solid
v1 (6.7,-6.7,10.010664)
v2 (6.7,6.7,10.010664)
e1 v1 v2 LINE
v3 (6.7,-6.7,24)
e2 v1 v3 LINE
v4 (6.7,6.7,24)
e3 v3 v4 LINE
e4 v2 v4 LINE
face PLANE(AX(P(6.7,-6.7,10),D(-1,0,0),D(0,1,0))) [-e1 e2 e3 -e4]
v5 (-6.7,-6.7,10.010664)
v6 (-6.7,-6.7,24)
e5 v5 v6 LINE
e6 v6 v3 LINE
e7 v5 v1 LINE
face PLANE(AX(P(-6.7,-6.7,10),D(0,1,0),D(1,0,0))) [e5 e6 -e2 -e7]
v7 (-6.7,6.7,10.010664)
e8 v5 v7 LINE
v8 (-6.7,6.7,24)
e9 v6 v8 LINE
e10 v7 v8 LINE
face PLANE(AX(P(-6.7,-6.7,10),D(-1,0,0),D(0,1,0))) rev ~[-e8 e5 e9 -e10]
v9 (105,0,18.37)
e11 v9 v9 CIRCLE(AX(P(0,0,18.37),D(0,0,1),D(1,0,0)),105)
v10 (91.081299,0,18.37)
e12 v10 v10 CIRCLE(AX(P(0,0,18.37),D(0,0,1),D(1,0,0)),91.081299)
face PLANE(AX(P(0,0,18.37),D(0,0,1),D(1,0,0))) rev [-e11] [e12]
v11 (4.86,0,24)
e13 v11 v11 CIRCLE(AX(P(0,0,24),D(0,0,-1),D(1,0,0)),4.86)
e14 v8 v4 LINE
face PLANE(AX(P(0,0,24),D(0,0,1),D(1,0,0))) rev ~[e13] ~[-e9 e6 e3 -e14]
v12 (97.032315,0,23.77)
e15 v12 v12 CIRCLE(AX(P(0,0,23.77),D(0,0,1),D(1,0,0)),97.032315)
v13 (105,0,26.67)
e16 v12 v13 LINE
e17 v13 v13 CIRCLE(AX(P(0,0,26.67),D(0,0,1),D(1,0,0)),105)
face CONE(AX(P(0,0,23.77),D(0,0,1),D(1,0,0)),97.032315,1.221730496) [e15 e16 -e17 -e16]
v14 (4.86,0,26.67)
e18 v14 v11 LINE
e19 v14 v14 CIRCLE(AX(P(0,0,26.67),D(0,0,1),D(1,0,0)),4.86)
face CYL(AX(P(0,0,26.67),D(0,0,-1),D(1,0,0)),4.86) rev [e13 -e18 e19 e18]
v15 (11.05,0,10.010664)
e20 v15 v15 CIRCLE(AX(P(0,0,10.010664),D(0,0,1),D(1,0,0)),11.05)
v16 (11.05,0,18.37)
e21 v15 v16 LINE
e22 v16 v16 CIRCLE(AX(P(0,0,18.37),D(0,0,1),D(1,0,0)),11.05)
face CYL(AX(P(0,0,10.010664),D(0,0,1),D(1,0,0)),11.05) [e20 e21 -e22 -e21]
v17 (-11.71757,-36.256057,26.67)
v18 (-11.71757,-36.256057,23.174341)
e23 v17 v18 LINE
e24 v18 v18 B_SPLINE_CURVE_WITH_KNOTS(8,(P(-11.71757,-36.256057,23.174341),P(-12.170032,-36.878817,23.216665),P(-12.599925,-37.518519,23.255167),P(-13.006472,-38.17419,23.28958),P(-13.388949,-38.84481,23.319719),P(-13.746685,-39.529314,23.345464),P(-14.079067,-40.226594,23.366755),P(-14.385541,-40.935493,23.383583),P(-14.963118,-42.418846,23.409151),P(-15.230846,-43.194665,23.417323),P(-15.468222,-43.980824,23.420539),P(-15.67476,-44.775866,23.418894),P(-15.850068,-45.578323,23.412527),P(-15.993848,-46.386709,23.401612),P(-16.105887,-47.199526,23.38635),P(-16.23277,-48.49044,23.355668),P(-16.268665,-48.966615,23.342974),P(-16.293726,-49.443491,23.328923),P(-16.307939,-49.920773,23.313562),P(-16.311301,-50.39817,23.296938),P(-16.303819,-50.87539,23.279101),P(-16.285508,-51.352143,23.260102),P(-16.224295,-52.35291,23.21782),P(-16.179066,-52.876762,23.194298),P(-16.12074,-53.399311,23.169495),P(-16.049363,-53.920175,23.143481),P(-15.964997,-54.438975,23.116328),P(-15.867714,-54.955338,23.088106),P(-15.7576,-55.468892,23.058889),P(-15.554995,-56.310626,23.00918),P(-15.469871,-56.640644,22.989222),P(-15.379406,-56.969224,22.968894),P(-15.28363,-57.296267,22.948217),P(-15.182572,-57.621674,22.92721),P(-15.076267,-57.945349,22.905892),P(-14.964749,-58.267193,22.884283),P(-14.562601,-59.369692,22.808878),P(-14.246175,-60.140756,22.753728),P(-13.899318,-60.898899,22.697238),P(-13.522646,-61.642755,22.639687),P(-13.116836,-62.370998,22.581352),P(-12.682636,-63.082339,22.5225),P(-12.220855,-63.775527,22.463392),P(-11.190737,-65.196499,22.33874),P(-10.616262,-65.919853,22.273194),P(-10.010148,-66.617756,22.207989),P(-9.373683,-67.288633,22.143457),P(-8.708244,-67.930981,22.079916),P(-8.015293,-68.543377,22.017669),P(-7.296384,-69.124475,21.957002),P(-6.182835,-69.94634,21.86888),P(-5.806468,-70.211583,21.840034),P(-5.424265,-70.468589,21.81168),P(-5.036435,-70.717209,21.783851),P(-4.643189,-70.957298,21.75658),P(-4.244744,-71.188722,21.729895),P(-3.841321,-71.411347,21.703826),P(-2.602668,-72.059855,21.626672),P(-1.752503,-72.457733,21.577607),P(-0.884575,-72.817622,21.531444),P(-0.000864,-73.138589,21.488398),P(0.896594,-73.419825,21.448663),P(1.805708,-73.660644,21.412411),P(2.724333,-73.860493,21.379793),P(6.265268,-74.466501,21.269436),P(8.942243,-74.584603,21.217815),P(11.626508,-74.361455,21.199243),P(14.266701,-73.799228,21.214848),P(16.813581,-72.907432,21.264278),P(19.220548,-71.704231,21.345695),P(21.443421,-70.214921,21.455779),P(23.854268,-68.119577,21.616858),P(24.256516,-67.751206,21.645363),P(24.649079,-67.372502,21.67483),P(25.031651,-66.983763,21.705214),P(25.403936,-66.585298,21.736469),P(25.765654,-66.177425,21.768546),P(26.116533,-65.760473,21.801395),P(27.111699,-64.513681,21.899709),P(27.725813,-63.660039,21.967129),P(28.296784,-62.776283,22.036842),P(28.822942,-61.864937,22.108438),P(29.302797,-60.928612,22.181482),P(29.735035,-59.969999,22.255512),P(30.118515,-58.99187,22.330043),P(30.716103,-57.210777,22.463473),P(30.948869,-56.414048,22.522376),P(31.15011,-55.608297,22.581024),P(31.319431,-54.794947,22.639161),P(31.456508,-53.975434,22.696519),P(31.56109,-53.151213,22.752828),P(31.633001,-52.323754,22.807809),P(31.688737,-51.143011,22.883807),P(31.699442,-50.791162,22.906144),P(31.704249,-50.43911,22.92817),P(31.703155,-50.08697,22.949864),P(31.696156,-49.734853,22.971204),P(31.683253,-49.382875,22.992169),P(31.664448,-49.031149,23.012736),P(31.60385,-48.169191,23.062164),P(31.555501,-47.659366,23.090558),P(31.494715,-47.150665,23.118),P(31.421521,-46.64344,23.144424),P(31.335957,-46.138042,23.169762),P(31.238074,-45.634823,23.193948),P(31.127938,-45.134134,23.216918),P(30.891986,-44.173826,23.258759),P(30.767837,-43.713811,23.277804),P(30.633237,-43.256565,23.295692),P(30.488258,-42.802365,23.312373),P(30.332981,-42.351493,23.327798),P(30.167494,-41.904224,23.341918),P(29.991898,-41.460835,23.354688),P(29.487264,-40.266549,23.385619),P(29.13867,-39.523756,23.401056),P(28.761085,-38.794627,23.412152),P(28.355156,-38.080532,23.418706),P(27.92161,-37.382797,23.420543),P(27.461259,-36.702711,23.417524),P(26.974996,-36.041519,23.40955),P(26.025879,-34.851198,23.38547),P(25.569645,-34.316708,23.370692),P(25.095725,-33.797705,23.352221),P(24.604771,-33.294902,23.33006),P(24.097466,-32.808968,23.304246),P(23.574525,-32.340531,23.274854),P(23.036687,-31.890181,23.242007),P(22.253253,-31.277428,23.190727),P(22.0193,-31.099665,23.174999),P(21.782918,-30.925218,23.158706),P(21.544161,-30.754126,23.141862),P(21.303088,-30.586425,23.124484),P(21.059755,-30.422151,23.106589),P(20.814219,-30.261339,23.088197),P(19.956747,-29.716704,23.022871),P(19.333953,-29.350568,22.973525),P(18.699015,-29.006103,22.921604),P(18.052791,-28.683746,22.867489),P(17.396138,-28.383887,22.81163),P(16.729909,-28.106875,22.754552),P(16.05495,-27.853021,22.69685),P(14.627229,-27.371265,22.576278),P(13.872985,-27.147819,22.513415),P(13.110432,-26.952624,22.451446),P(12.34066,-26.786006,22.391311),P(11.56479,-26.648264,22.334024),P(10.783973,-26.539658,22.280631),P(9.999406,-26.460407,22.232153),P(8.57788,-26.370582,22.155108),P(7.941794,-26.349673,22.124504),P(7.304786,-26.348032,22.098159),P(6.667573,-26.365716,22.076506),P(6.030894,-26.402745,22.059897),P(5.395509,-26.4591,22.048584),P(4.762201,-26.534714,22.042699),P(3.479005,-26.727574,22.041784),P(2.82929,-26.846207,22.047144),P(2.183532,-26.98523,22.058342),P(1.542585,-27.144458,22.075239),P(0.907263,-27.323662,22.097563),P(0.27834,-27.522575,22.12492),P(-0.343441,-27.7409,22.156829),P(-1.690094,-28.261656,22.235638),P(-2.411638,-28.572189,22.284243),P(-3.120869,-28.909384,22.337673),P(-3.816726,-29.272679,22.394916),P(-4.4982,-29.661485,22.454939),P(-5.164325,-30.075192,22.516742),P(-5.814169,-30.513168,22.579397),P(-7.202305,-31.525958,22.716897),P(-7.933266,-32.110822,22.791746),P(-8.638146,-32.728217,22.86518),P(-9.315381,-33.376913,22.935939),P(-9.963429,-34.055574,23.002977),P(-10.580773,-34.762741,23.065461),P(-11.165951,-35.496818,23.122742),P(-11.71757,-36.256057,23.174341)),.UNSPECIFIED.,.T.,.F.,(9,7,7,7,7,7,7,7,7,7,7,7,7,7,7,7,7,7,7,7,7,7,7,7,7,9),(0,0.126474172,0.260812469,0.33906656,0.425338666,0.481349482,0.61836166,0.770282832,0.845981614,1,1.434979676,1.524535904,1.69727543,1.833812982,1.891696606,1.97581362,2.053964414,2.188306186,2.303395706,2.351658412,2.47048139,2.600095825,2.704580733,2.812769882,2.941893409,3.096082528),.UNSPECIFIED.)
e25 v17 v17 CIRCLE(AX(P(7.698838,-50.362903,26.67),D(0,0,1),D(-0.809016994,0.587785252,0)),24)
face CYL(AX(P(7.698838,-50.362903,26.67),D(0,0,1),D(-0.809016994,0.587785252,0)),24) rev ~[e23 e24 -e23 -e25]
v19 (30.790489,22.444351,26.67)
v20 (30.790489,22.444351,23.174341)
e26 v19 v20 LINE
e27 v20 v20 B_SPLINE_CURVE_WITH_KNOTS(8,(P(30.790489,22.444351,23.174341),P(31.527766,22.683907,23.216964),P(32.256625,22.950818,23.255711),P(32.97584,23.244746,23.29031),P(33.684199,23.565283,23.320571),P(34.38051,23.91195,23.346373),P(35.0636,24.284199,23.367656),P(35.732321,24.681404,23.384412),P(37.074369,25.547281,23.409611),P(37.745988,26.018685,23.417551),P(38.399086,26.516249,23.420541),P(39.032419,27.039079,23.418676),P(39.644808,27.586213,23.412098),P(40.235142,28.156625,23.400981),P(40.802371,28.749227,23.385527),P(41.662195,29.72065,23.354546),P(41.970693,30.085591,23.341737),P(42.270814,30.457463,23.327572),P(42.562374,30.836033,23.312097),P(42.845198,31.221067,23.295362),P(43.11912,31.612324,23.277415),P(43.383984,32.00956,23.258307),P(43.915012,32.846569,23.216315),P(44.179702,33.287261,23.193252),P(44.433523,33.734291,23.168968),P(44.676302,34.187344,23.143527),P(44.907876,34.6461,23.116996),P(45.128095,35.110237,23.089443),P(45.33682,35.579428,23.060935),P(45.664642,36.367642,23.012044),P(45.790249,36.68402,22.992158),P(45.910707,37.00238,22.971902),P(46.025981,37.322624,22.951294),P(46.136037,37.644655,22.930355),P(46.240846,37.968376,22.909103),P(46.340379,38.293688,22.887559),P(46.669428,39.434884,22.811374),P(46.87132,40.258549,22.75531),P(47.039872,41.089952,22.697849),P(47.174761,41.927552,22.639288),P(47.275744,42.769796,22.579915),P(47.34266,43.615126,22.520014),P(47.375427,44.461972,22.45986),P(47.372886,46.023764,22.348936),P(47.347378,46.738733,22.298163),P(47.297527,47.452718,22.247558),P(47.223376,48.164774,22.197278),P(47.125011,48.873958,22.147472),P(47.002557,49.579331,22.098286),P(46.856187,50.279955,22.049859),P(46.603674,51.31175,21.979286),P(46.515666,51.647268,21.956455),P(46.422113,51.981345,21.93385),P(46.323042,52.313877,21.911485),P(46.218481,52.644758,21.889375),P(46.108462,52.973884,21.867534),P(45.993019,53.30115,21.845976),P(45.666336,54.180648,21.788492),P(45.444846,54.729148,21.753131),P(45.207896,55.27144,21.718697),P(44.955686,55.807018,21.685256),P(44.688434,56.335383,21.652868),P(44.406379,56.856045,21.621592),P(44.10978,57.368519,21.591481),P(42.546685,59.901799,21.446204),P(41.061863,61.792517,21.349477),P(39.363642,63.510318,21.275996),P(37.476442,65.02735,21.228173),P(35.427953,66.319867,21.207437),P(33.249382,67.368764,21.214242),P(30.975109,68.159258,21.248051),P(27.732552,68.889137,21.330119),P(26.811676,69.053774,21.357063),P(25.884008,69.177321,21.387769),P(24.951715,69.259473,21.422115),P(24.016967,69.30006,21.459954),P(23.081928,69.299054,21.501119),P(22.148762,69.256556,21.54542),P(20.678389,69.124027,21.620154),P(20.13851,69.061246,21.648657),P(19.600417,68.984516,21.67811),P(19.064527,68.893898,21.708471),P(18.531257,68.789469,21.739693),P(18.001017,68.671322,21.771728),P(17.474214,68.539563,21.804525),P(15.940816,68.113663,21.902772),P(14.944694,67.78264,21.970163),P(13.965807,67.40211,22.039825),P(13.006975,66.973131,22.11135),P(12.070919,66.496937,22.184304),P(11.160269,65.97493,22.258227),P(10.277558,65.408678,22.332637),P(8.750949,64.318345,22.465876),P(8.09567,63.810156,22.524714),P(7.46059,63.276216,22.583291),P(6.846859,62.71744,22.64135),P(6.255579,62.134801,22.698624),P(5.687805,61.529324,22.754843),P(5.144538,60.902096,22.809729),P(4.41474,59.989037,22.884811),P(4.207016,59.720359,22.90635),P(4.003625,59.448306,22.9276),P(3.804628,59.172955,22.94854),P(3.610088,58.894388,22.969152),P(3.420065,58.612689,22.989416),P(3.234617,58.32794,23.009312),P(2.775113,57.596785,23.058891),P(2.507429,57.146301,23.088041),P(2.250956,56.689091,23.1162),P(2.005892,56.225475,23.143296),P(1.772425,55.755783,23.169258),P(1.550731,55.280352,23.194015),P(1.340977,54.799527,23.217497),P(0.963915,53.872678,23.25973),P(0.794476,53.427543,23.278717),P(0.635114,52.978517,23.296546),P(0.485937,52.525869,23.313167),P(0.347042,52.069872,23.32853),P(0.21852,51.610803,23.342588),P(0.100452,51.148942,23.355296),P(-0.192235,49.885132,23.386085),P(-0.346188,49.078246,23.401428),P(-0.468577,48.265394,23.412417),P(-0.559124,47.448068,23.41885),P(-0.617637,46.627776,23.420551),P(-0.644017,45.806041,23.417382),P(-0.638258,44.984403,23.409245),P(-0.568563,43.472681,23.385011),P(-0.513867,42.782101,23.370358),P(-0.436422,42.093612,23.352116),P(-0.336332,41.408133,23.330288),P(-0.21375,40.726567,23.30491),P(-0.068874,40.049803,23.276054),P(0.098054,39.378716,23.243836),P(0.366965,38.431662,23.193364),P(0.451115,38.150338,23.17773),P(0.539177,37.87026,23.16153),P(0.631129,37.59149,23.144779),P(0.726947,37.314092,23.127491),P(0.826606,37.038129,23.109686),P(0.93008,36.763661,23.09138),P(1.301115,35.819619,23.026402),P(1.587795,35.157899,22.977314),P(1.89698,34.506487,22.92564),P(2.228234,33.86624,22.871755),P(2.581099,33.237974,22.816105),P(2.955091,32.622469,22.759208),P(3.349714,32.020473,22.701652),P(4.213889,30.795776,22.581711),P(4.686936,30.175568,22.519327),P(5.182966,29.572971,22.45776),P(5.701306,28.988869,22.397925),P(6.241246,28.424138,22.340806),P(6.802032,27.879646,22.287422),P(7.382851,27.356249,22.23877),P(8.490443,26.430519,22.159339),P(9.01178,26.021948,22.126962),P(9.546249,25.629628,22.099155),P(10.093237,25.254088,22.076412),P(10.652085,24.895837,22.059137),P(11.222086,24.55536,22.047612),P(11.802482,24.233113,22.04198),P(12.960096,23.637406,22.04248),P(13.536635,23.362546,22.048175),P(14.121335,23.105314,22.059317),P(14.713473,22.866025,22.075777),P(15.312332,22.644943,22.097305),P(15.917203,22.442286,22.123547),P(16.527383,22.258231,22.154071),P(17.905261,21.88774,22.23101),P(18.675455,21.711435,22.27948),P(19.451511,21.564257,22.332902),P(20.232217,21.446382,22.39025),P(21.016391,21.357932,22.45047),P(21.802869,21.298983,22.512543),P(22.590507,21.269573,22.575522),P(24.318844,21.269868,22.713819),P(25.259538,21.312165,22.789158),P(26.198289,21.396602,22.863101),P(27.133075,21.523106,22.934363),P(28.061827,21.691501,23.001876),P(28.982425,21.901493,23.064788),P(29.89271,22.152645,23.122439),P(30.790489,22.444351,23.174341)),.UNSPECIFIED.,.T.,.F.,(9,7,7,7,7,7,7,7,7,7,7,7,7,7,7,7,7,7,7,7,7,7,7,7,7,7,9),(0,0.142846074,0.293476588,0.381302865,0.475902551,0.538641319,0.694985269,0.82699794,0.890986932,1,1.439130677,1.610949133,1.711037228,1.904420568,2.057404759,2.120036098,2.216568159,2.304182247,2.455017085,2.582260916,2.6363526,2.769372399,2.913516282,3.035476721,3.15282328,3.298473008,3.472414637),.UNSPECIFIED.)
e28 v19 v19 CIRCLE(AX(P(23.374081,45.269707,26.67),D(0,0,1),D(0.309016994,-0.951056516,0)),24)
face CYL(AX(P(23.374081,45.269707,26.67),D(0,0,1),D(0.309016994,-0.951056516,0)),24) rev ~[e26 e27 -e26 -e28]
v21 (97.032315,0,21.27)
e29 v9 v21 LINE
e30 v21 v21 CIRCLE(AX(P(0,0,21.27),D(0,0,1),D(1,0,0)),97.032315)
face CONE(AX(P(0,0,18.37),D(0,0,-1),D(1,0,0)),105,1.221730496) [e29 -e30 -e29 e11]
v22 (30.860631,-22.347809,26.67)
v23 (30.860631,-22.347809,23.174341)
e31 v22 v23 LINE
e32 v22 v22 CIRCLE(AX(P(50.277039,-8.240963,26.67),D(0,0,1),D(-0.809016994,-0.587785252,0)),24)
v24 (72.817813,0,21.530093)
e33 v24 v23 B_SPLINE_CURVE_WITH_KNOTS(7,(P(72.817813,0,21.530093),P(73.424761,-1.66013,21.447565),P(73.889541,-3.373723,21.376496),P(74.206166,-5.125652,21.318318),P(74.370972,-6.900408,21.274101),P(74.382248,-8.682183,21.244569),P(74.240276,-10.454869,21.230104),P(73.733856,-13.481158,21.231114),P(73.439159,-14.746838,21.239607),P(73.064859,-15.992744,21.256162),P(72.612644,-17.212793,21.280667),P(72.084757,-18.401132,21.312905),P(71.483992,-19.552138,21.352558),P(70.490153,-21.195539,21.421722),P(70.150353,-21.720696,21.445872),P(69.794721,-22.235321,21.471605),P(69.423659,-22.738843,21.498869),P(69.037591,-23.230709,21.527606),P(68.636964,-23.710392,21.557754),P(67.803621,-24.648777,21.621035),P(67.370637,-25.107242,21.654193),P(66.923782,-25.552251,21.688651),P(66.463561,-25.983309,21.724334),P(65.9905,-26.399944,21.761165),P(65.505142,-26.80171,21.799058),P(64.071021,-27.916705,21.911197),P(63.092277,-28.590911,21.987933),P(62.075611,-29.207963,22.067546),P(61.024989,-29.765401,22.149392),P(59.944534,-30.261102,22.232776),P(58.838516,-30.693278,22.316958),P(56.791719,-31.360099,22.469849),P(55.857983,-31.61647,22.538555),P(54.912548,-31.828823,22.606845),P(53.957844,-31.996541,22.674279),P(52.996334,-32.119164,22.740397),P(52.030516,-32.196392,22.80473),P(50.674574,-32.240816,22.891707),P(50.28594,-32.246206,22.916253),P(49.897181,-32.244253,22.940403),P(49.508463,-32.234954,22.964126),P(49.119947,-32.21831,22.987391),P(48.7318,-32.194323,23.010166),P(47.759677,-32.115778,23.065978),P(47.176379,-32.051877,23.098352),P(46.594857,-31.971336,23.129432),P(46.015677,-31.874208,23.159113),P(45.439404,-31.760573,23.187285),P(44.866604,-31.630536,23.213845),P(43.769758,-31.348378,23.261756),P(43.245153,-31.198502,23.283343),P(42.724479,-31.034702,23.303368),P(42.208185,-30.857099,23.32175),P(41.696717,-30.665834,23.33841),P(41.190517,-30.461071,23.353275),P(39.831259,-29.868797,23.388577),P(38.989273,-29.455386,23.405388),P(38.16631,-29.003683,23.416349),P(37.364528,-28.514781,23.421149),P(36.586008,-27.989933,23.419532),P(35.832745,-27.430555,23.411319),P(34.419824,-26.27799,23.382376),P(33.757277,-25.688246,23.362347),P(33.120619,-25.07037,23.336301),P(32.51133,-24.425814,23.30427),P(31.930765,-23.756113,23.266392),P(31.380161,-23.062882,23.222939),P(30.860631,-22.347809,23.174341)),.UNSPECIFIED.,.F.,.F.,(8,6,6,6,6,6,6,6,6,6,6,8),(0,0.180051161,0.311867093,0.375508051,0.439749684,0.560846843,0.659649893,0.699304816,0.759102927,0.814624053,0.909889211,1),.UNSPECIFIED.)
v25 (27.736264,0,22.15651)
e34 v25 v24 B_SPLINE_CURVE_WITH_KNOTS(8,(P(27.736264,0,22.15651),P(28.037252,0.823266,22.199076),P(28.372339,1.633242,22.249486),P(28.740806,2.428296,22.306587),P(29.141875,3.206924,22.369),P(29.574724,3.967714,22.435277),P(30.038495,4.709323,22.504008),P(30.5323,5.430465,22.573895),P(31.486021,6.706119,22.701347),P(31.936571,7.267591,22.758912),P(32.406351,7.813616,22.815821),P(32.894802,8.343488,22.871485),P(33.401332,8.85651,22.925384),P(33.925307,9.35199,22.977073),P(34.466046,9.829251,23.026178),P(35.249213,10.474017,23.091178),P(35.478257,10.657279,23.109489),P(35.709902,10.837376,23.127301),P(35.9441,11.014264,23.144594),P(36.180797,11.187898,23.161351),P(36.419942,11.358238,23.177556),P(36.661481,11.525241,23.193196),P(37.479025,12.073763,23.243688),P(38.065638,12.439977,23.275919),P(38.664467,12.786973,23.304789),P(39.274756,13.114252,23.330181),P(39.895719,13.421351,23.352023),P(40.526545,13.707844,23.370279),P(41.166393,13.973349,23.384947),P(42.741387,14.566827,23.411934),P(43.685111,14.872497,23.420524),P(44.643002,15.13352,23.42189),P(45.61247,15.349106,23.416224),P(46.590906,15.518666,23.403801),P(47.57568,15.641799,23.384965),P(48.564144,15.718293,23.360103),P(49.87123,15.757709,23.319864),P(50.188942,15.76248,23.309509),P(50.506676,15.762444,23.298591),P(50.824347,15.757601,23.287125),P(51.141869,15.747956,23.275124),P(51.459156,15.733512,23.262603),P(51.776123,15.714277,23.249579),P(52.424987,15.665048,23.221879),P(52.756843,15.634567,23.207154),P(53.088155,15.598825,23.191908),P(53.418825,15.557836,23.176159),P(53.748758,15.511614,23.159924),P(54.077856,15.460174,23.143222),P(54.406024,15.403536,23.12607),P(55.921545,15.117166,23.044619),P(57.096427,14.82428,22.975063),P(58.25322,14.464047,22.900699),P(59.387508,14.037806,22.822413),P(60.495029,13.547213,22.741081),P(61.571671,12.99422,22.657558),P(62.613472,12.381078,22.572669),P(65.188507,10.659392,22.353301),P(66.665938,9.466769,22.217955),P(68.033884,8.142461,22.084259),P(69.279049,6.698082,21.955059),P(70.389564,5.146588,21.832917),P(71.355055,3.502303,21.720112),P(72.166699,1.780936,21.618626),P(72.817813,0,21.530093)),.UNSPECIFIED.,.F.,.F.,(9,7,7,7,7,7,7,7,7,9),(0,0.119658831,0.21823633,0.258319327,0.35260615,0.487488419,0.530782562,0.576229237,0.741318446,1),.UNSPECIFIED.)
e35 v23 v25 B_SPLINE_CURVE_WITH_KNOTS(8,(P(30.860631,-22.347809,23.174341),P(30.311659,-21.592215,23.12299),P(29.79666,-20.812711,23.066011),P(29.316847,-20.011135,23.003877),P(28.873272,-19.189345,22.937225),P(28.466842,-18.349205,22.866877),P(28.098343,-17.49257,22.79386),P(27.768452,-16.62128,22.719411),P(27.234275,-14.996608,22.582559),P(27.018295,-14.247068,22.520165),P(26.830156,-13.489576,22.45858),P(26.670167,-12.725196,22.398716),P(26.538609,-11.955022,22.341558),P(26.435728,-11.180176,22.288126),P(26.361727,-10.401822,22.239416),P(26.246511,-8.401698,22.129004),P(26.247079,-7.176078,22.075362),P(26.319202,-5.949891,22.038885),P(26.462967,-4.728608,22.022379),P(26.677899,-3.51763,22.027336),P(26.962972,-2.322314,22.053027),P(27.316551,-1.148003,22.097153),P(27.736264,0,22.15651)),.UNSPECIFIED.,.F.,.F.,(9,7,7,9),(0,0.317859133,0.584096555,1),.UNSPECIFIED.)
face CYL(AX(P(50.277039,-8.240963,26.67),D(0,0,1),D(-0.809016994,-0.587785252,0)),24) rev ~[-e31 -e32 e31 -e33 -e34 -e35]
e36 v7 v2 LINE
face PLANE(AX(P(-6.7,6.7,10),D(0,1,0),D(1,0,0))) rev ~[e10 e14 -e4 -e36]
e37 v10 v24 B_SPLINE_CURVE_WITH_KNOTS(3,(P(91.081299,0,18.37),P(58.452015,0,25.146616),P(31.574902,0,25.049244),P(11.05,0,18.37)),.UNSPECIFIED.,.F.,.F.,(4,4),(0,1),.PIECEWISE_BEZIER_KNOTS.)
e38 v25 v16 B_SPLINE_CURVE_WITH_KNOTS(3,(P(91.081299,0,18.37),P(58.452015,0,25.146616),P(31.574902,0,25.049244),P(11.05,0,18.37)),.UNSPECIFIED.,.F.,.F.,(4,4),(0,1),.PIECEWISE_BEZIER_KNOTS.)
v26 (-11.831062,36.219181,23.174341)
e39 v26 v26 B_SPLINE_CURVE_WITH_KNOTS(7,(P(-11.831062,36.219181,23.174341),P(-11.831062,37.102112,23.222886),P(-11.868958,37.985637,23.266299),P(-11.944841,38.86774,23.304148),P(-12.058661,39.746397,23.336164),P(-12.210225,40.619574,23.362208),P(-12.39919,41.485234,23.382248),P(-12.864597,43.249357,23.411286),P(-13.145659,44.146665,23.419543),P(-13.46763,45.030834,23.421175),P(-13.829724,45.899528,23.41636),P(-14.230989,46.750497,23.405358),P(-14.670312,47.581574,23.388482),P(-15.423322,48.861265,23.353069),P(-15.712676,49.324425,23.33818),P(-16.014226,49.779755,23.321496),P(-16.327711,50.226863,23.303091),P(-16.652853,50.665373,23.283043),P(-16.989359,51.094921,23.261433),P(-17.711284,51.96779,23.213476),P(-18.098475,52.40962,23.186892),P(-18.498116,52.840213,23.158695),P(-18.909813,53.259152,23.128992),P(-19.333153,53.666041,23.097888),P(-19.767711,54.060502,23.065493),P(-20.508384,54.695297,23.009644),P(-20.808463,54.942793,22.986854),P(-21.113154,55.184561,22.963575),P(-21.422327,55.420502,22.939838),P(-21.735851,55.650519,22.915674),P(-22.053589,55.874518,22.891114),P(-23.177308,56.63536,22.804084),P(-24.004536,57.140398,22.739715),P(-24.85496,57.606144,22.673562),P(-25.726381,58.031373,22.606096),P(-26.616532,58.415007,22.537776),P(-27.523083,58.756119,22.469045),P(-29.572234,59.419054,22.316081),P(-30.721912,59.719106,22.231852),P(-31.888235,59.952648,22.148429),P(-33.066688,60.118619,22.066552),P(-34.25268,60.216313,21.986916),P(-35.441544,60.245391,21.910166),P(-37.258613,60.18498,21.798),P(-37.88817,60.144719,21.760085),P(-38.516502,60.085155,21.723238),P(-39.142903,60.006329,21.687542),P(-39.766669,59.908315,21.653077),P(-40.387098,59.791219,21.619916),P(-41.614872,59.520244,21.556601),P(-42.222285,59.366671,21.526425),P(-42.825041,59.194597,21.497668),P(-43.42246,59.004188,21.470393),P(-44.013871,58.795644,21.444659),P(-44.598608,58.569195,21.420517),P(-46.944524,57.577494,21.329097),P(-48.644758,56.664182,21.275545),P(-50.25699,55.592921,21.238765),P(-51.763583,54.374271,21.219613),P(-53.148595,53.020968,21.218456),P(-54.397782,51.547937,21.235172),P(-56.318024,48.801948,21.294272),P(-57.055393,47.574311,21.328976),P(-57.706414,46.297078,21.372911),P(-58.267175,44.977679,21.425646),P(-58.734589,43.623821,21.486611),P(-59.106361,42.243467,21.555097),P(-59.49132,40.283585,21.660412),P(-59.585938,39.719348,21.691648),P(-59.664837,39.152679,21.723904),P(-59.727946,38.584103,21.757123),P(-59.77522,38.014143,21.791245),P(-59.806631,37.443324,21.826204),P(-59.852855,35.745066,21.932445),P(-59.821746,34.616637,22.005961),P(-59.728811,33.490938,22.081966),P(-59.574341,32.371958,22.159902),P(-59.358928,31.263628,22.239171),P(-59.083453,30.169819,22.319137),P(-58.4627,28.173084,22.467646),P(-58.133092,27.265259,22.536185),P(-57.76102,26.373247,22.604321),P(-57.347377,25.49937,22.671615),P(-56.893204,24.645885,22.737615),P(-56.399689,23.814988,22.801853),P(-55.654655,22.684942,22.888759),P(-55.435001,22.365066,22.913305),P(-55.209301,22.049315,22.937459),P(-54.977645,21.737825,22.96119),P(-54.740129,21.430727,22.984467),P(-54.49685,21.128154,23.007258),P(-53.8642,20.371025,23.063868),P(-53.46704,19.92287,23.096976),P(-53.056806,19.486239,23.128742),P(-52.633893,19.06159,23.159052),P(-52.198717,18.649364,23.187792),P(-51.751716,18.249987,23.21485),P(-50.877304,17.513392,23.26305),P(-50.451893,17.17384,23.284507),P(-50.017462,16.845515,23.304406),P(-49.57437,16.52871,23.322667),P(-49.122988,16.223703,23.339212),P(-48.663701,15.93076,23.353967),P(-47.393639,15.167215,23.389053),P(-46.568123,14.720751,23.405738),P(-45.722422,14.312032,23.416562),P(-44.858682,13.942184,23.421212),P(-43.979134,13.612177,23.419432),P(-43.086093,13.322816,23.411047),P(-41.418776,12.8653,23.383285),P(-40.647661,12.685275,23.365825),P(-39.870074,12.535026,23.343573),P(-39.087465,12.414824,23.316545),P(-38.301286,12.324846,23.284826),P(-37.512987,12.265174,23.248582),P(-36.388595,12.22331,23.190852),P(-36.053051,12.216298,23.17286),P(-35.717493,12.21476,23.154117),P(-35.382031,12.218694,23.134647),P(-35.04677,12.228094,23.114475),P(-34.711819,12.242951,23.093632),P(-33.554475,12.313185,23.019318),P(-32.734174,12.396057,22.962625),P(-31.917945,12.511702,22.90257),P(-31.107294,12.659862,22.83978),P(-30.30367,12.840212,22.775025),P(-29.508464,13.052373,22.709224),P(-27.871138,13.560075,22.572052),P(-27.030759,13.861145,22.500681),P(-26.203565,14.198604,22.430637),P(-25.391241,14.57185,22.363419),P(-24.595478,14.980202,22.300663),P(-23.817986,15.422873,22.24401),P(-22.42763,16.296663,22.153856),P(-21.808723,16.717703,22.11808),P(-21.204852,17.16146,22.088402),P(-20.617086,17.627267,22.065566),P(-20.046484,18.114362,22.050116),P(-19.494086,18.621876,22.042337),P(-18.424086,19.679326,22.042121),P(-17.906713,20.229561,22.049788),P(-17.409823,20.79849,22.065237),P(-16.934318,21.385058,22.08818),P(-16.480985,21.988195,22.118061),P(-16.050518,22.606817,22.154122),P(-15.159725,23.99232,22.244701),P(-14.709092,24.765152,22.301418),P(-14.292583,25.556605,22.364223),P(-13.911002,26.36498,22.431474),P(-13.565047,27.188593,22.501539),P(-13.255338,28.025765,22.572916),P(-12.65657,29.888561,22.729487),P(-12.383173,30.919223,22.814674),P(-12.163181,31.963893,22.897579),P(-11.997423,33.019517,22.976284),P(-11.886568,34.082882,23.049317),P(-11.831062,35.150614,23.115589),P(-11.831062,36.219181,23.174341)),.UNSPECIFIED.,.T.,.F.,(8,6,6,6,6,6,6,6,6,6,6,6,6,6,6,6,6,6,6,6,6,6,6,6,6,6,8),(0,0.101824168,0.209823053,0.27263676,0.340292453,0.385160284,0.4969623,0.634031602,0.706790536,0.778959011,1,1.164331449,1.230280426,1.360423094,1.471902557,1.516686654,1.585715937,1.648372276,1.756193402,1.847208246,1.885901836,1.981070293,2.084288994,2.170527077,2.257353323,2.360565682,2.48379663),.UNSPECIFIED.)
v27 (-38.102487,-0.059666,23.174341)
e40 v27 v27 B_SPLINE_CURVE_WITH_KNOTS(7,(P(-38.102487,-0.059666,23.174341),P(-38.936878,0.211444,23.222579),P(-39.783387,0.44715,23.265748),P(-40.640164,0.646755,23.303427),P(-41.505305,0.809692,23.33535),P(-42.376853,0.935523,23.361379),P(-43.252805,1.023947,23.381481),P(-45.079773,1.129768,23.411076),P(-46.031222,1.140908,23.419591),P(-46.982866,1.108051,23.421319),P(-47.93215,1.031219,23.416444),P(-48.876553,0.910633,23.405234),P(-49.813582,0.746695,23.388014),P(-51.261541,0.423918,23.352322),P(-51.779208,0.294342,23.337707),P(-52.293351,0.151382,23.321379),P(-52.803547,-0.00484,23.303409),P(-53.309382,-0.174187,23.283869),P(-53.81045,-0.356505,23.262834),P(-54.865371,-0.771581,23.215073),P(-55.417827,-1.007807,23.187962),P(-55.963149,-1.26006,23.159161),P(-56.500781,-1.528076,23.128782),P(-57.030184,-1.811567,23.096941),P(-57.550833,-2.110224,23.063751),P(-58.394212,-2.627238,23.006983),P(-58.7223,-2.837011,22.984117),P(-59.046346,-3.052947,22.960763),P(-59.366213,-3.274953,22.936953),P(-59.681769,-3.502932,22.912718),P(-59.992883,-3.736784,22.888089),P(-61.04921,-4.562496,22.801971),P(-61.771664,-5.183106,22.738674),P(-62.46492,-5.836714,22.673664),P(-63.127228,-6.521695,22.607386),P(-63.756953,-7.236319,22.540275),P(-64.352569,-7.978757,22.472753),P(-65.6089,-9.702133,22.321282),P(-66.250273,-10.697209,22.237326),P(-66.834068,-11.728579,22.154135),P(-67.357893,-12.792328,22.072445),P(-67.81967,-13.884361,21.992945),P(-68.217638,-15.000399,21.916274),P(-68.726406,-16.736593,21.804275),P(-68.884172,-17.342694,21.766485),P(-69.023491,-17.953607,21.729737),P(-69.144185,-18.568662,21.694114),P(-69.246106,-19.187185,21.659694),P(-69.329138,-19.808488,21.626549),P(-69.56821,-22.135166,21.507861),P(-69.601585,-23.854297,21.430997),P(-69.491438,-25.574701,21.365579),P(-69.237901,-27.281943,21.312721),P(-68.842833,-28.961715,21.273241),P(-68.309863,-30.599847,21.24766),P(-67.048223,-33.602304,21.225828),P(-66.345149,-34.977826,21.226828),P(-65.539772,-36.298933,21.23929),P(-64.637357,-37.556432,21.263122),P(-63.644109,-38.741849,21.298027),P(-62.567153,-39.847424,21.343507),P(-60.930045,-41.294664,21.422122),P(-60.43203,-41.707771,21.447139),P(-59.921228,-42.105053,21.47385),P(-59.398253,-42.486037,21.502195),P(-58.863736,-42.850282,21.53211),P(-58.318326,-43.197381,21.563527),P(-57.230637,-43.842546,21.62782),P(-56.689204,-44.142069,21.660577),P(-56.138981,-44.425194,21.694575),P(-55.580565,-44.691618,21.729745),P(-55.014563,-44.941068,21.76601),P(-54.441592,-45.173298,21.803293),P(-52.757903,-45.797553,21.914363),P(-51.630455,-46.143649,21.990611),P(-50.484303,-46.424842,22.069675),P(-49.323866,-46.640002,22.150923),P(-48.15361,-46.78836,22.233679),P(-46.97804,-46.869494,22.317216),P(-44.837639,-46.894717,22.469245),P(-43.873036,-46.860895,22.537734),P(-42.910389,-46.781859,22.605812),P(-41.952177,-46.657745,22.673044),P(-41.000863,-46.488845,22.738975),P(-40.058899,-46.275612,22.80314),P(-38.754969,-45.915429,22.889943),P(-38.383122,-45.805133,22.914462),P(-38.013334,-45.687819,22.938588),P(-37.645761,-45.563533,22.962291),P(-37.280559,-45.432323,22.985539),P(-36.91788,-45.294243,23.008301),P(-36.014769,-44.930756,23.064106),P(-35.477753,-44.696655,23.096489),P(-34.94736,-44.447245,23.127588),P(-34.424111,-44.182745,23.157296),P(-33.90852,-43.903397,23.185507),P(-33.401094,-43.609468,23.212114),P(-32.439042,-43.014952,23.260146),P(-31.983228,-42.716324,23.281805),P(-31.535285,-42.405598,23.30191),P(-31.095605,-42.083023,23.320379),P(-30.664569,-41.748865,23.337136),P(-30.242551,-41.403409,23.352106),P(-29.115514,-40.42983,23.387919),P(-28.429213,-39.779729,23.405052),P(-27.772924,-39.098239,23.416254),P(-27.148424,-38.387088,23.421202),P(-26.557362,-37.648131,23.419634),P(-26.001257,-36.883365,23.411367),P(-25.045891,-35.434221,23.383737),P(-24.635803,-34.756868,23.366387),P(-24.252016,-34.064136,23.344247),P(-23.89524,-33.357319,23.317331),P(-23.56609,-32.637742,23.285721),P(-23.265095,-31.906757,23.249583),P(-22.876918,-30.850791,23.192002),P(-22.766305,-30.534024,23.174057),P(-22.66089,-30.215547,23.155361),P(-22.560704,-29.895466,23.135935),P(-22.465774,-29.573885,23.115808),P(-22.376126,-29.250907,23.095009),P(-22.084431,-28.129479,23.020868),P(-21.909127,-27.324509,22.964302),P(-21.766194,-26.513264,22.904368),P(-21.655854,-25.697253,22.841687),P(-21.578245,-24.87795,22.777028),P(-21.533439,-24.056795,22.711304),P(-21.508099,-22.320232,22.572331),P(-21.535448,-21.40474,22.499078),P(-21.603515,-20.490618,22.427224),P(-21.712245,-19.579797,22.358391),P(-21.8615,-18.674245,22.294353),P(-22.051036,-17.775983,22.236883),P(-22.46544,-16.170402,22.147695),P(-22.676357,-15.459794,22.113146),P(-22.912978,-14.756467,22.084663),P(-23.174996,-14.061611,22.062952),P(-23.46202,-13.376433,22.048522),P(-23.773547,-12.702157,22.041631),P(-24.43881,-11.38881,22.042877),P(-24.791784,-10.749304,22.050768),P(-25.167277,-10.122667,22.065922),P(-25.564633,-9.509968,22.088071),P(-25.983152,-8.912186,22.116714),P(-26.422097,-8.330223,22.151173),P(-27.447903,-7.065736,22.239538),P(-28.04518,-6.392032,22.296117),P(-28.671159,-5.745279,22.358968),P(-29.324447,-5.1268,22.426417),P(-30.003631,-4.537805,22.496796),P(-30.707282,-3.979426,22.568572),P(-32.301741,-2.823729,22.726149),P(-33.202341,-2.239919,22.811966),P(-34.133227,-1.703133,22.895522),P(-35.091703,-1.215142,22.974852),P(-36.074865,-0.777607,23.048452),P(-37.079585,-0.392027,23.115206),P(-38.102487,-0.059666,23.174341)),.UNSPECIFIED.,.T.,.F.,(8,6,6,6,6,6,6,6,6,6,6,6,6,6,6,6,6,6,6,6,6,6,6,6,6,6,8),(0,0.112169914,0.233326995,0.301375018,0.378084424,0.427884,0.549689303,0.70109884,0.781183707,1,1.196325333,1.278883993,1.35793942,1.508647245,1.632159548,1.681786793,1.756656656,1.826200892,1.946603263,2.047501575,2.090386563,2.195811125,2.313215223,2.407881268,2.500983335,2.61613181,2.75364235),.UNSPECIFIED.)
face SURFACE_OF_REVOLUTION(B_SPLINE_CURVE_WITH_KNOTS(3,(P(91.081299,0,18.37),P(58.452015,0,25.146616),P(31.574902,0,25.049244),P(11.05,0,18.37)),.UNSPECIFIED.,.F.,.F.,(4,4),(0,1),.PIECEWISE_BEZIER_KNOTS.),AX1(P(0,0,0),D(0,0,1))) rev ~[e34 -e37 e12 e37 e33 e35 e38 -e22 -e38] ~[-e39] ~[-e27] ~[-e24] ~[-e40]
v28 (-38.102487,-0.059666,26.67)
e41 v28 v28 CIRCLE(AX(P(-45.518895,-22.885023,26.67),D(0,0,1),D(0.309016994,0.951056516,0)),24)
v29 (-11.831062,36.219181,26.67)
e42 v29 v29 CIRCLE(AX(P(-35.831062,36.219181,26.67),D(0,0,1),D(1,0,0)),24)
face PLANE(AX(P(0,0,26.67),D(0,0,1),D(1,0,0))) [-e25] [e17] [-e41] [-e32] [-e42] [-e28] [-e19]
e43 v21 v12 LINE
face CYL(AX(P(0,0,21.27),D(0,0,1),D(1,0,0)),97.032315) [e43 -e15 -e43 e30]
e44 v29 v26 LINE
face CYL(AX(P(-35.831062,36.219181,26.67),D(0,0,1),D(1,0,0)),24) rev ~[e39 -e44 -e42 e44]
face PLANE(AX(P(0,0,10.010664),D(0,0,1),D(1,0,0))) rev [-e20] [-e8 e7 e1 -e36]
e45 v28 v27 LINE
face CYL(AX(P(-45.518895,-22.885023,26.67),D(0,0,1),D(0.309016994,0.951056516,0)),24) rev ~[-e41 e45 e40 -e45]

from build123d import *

# Parameters (mm, degrees)
BOX_W              = 13.4
BOX_H              = 13.4
BOX_DEPTH          = 14
SKETCH001_R        = 24
POCKET_DEPTH       = 6
POLARPATTERN_COUNT = 5


with BuildPart() as cube:
    # Box → Box (new body)
    with BuildSketch(Plane(origin=(-6.7, -6.7, 10), x_dir=(1, 0, 0), z_dir=(0, 0, 1))):
        with Locations((6.7, 6.7)):
            Rectangle(BOX_W, BOX_H)
    extrude(amount=BOX_DEPTH)


with BuildPart() as body:
    # Sketch → Revolve (revolve)
    with BuildSketch(Plane.XZ):
        with BuildLine():
            Line((91.081299, 18.37), (105, 18.37))
            Line((105, 18.37), (97.032315, 21.27))
            Line((97.032315, 21.27), (97.032315, 23.77))
            Line((97.032315, 23.77), (105, 26.67))
            Line((105, 26.67), (4.86, 26.67))
            Line((4.86, 26.67), (4.86, 10.010664))
            Line((4.86, 10.010664), (11.05, 10.010664))
            Line((11.05, 10.010664), (11.05, 18.37))
            add(Edge.make_bspline(
                [(91.081299, 18.37), (58.452015, 25.146616), (31.574902, 25.049244), (11.05, 18.37)],
                knots=[0, 0, 0, 0, 1, 1, 1, 1], degree=3))
        make_face()
    revolve(axis=Axis((0, 0, 0), (0, 0, 1)))

    # Cut: cut Cube
    add(cube.part, mode=Mode.SUBTRACT)

    # Sketch001 (on Face12 of BaseFeature) → Pocket (cut)
    with BuildSketch(Plane.XY.offset(26.67)):
        with Locations((-35.831062, 36.219181)):
            Circle(SKETCH001_R)
    pocket = extrude(amount=-POCKET_DEPTH, mode=Mode.SUBTRACT)

    # PolarPattern: Pocket ×5 about axis
    polarpattern_axis = Axis((0, 0, 26.67), (0, 0, 1))
    for i in range(1, POLARPATTERN_COUNT):
        add(pocket.rotate(polarpattern_axis, i * 360 / POLARPATTERN_COUNT), mode=Mode.SUBTRACT)


solid = body.part
